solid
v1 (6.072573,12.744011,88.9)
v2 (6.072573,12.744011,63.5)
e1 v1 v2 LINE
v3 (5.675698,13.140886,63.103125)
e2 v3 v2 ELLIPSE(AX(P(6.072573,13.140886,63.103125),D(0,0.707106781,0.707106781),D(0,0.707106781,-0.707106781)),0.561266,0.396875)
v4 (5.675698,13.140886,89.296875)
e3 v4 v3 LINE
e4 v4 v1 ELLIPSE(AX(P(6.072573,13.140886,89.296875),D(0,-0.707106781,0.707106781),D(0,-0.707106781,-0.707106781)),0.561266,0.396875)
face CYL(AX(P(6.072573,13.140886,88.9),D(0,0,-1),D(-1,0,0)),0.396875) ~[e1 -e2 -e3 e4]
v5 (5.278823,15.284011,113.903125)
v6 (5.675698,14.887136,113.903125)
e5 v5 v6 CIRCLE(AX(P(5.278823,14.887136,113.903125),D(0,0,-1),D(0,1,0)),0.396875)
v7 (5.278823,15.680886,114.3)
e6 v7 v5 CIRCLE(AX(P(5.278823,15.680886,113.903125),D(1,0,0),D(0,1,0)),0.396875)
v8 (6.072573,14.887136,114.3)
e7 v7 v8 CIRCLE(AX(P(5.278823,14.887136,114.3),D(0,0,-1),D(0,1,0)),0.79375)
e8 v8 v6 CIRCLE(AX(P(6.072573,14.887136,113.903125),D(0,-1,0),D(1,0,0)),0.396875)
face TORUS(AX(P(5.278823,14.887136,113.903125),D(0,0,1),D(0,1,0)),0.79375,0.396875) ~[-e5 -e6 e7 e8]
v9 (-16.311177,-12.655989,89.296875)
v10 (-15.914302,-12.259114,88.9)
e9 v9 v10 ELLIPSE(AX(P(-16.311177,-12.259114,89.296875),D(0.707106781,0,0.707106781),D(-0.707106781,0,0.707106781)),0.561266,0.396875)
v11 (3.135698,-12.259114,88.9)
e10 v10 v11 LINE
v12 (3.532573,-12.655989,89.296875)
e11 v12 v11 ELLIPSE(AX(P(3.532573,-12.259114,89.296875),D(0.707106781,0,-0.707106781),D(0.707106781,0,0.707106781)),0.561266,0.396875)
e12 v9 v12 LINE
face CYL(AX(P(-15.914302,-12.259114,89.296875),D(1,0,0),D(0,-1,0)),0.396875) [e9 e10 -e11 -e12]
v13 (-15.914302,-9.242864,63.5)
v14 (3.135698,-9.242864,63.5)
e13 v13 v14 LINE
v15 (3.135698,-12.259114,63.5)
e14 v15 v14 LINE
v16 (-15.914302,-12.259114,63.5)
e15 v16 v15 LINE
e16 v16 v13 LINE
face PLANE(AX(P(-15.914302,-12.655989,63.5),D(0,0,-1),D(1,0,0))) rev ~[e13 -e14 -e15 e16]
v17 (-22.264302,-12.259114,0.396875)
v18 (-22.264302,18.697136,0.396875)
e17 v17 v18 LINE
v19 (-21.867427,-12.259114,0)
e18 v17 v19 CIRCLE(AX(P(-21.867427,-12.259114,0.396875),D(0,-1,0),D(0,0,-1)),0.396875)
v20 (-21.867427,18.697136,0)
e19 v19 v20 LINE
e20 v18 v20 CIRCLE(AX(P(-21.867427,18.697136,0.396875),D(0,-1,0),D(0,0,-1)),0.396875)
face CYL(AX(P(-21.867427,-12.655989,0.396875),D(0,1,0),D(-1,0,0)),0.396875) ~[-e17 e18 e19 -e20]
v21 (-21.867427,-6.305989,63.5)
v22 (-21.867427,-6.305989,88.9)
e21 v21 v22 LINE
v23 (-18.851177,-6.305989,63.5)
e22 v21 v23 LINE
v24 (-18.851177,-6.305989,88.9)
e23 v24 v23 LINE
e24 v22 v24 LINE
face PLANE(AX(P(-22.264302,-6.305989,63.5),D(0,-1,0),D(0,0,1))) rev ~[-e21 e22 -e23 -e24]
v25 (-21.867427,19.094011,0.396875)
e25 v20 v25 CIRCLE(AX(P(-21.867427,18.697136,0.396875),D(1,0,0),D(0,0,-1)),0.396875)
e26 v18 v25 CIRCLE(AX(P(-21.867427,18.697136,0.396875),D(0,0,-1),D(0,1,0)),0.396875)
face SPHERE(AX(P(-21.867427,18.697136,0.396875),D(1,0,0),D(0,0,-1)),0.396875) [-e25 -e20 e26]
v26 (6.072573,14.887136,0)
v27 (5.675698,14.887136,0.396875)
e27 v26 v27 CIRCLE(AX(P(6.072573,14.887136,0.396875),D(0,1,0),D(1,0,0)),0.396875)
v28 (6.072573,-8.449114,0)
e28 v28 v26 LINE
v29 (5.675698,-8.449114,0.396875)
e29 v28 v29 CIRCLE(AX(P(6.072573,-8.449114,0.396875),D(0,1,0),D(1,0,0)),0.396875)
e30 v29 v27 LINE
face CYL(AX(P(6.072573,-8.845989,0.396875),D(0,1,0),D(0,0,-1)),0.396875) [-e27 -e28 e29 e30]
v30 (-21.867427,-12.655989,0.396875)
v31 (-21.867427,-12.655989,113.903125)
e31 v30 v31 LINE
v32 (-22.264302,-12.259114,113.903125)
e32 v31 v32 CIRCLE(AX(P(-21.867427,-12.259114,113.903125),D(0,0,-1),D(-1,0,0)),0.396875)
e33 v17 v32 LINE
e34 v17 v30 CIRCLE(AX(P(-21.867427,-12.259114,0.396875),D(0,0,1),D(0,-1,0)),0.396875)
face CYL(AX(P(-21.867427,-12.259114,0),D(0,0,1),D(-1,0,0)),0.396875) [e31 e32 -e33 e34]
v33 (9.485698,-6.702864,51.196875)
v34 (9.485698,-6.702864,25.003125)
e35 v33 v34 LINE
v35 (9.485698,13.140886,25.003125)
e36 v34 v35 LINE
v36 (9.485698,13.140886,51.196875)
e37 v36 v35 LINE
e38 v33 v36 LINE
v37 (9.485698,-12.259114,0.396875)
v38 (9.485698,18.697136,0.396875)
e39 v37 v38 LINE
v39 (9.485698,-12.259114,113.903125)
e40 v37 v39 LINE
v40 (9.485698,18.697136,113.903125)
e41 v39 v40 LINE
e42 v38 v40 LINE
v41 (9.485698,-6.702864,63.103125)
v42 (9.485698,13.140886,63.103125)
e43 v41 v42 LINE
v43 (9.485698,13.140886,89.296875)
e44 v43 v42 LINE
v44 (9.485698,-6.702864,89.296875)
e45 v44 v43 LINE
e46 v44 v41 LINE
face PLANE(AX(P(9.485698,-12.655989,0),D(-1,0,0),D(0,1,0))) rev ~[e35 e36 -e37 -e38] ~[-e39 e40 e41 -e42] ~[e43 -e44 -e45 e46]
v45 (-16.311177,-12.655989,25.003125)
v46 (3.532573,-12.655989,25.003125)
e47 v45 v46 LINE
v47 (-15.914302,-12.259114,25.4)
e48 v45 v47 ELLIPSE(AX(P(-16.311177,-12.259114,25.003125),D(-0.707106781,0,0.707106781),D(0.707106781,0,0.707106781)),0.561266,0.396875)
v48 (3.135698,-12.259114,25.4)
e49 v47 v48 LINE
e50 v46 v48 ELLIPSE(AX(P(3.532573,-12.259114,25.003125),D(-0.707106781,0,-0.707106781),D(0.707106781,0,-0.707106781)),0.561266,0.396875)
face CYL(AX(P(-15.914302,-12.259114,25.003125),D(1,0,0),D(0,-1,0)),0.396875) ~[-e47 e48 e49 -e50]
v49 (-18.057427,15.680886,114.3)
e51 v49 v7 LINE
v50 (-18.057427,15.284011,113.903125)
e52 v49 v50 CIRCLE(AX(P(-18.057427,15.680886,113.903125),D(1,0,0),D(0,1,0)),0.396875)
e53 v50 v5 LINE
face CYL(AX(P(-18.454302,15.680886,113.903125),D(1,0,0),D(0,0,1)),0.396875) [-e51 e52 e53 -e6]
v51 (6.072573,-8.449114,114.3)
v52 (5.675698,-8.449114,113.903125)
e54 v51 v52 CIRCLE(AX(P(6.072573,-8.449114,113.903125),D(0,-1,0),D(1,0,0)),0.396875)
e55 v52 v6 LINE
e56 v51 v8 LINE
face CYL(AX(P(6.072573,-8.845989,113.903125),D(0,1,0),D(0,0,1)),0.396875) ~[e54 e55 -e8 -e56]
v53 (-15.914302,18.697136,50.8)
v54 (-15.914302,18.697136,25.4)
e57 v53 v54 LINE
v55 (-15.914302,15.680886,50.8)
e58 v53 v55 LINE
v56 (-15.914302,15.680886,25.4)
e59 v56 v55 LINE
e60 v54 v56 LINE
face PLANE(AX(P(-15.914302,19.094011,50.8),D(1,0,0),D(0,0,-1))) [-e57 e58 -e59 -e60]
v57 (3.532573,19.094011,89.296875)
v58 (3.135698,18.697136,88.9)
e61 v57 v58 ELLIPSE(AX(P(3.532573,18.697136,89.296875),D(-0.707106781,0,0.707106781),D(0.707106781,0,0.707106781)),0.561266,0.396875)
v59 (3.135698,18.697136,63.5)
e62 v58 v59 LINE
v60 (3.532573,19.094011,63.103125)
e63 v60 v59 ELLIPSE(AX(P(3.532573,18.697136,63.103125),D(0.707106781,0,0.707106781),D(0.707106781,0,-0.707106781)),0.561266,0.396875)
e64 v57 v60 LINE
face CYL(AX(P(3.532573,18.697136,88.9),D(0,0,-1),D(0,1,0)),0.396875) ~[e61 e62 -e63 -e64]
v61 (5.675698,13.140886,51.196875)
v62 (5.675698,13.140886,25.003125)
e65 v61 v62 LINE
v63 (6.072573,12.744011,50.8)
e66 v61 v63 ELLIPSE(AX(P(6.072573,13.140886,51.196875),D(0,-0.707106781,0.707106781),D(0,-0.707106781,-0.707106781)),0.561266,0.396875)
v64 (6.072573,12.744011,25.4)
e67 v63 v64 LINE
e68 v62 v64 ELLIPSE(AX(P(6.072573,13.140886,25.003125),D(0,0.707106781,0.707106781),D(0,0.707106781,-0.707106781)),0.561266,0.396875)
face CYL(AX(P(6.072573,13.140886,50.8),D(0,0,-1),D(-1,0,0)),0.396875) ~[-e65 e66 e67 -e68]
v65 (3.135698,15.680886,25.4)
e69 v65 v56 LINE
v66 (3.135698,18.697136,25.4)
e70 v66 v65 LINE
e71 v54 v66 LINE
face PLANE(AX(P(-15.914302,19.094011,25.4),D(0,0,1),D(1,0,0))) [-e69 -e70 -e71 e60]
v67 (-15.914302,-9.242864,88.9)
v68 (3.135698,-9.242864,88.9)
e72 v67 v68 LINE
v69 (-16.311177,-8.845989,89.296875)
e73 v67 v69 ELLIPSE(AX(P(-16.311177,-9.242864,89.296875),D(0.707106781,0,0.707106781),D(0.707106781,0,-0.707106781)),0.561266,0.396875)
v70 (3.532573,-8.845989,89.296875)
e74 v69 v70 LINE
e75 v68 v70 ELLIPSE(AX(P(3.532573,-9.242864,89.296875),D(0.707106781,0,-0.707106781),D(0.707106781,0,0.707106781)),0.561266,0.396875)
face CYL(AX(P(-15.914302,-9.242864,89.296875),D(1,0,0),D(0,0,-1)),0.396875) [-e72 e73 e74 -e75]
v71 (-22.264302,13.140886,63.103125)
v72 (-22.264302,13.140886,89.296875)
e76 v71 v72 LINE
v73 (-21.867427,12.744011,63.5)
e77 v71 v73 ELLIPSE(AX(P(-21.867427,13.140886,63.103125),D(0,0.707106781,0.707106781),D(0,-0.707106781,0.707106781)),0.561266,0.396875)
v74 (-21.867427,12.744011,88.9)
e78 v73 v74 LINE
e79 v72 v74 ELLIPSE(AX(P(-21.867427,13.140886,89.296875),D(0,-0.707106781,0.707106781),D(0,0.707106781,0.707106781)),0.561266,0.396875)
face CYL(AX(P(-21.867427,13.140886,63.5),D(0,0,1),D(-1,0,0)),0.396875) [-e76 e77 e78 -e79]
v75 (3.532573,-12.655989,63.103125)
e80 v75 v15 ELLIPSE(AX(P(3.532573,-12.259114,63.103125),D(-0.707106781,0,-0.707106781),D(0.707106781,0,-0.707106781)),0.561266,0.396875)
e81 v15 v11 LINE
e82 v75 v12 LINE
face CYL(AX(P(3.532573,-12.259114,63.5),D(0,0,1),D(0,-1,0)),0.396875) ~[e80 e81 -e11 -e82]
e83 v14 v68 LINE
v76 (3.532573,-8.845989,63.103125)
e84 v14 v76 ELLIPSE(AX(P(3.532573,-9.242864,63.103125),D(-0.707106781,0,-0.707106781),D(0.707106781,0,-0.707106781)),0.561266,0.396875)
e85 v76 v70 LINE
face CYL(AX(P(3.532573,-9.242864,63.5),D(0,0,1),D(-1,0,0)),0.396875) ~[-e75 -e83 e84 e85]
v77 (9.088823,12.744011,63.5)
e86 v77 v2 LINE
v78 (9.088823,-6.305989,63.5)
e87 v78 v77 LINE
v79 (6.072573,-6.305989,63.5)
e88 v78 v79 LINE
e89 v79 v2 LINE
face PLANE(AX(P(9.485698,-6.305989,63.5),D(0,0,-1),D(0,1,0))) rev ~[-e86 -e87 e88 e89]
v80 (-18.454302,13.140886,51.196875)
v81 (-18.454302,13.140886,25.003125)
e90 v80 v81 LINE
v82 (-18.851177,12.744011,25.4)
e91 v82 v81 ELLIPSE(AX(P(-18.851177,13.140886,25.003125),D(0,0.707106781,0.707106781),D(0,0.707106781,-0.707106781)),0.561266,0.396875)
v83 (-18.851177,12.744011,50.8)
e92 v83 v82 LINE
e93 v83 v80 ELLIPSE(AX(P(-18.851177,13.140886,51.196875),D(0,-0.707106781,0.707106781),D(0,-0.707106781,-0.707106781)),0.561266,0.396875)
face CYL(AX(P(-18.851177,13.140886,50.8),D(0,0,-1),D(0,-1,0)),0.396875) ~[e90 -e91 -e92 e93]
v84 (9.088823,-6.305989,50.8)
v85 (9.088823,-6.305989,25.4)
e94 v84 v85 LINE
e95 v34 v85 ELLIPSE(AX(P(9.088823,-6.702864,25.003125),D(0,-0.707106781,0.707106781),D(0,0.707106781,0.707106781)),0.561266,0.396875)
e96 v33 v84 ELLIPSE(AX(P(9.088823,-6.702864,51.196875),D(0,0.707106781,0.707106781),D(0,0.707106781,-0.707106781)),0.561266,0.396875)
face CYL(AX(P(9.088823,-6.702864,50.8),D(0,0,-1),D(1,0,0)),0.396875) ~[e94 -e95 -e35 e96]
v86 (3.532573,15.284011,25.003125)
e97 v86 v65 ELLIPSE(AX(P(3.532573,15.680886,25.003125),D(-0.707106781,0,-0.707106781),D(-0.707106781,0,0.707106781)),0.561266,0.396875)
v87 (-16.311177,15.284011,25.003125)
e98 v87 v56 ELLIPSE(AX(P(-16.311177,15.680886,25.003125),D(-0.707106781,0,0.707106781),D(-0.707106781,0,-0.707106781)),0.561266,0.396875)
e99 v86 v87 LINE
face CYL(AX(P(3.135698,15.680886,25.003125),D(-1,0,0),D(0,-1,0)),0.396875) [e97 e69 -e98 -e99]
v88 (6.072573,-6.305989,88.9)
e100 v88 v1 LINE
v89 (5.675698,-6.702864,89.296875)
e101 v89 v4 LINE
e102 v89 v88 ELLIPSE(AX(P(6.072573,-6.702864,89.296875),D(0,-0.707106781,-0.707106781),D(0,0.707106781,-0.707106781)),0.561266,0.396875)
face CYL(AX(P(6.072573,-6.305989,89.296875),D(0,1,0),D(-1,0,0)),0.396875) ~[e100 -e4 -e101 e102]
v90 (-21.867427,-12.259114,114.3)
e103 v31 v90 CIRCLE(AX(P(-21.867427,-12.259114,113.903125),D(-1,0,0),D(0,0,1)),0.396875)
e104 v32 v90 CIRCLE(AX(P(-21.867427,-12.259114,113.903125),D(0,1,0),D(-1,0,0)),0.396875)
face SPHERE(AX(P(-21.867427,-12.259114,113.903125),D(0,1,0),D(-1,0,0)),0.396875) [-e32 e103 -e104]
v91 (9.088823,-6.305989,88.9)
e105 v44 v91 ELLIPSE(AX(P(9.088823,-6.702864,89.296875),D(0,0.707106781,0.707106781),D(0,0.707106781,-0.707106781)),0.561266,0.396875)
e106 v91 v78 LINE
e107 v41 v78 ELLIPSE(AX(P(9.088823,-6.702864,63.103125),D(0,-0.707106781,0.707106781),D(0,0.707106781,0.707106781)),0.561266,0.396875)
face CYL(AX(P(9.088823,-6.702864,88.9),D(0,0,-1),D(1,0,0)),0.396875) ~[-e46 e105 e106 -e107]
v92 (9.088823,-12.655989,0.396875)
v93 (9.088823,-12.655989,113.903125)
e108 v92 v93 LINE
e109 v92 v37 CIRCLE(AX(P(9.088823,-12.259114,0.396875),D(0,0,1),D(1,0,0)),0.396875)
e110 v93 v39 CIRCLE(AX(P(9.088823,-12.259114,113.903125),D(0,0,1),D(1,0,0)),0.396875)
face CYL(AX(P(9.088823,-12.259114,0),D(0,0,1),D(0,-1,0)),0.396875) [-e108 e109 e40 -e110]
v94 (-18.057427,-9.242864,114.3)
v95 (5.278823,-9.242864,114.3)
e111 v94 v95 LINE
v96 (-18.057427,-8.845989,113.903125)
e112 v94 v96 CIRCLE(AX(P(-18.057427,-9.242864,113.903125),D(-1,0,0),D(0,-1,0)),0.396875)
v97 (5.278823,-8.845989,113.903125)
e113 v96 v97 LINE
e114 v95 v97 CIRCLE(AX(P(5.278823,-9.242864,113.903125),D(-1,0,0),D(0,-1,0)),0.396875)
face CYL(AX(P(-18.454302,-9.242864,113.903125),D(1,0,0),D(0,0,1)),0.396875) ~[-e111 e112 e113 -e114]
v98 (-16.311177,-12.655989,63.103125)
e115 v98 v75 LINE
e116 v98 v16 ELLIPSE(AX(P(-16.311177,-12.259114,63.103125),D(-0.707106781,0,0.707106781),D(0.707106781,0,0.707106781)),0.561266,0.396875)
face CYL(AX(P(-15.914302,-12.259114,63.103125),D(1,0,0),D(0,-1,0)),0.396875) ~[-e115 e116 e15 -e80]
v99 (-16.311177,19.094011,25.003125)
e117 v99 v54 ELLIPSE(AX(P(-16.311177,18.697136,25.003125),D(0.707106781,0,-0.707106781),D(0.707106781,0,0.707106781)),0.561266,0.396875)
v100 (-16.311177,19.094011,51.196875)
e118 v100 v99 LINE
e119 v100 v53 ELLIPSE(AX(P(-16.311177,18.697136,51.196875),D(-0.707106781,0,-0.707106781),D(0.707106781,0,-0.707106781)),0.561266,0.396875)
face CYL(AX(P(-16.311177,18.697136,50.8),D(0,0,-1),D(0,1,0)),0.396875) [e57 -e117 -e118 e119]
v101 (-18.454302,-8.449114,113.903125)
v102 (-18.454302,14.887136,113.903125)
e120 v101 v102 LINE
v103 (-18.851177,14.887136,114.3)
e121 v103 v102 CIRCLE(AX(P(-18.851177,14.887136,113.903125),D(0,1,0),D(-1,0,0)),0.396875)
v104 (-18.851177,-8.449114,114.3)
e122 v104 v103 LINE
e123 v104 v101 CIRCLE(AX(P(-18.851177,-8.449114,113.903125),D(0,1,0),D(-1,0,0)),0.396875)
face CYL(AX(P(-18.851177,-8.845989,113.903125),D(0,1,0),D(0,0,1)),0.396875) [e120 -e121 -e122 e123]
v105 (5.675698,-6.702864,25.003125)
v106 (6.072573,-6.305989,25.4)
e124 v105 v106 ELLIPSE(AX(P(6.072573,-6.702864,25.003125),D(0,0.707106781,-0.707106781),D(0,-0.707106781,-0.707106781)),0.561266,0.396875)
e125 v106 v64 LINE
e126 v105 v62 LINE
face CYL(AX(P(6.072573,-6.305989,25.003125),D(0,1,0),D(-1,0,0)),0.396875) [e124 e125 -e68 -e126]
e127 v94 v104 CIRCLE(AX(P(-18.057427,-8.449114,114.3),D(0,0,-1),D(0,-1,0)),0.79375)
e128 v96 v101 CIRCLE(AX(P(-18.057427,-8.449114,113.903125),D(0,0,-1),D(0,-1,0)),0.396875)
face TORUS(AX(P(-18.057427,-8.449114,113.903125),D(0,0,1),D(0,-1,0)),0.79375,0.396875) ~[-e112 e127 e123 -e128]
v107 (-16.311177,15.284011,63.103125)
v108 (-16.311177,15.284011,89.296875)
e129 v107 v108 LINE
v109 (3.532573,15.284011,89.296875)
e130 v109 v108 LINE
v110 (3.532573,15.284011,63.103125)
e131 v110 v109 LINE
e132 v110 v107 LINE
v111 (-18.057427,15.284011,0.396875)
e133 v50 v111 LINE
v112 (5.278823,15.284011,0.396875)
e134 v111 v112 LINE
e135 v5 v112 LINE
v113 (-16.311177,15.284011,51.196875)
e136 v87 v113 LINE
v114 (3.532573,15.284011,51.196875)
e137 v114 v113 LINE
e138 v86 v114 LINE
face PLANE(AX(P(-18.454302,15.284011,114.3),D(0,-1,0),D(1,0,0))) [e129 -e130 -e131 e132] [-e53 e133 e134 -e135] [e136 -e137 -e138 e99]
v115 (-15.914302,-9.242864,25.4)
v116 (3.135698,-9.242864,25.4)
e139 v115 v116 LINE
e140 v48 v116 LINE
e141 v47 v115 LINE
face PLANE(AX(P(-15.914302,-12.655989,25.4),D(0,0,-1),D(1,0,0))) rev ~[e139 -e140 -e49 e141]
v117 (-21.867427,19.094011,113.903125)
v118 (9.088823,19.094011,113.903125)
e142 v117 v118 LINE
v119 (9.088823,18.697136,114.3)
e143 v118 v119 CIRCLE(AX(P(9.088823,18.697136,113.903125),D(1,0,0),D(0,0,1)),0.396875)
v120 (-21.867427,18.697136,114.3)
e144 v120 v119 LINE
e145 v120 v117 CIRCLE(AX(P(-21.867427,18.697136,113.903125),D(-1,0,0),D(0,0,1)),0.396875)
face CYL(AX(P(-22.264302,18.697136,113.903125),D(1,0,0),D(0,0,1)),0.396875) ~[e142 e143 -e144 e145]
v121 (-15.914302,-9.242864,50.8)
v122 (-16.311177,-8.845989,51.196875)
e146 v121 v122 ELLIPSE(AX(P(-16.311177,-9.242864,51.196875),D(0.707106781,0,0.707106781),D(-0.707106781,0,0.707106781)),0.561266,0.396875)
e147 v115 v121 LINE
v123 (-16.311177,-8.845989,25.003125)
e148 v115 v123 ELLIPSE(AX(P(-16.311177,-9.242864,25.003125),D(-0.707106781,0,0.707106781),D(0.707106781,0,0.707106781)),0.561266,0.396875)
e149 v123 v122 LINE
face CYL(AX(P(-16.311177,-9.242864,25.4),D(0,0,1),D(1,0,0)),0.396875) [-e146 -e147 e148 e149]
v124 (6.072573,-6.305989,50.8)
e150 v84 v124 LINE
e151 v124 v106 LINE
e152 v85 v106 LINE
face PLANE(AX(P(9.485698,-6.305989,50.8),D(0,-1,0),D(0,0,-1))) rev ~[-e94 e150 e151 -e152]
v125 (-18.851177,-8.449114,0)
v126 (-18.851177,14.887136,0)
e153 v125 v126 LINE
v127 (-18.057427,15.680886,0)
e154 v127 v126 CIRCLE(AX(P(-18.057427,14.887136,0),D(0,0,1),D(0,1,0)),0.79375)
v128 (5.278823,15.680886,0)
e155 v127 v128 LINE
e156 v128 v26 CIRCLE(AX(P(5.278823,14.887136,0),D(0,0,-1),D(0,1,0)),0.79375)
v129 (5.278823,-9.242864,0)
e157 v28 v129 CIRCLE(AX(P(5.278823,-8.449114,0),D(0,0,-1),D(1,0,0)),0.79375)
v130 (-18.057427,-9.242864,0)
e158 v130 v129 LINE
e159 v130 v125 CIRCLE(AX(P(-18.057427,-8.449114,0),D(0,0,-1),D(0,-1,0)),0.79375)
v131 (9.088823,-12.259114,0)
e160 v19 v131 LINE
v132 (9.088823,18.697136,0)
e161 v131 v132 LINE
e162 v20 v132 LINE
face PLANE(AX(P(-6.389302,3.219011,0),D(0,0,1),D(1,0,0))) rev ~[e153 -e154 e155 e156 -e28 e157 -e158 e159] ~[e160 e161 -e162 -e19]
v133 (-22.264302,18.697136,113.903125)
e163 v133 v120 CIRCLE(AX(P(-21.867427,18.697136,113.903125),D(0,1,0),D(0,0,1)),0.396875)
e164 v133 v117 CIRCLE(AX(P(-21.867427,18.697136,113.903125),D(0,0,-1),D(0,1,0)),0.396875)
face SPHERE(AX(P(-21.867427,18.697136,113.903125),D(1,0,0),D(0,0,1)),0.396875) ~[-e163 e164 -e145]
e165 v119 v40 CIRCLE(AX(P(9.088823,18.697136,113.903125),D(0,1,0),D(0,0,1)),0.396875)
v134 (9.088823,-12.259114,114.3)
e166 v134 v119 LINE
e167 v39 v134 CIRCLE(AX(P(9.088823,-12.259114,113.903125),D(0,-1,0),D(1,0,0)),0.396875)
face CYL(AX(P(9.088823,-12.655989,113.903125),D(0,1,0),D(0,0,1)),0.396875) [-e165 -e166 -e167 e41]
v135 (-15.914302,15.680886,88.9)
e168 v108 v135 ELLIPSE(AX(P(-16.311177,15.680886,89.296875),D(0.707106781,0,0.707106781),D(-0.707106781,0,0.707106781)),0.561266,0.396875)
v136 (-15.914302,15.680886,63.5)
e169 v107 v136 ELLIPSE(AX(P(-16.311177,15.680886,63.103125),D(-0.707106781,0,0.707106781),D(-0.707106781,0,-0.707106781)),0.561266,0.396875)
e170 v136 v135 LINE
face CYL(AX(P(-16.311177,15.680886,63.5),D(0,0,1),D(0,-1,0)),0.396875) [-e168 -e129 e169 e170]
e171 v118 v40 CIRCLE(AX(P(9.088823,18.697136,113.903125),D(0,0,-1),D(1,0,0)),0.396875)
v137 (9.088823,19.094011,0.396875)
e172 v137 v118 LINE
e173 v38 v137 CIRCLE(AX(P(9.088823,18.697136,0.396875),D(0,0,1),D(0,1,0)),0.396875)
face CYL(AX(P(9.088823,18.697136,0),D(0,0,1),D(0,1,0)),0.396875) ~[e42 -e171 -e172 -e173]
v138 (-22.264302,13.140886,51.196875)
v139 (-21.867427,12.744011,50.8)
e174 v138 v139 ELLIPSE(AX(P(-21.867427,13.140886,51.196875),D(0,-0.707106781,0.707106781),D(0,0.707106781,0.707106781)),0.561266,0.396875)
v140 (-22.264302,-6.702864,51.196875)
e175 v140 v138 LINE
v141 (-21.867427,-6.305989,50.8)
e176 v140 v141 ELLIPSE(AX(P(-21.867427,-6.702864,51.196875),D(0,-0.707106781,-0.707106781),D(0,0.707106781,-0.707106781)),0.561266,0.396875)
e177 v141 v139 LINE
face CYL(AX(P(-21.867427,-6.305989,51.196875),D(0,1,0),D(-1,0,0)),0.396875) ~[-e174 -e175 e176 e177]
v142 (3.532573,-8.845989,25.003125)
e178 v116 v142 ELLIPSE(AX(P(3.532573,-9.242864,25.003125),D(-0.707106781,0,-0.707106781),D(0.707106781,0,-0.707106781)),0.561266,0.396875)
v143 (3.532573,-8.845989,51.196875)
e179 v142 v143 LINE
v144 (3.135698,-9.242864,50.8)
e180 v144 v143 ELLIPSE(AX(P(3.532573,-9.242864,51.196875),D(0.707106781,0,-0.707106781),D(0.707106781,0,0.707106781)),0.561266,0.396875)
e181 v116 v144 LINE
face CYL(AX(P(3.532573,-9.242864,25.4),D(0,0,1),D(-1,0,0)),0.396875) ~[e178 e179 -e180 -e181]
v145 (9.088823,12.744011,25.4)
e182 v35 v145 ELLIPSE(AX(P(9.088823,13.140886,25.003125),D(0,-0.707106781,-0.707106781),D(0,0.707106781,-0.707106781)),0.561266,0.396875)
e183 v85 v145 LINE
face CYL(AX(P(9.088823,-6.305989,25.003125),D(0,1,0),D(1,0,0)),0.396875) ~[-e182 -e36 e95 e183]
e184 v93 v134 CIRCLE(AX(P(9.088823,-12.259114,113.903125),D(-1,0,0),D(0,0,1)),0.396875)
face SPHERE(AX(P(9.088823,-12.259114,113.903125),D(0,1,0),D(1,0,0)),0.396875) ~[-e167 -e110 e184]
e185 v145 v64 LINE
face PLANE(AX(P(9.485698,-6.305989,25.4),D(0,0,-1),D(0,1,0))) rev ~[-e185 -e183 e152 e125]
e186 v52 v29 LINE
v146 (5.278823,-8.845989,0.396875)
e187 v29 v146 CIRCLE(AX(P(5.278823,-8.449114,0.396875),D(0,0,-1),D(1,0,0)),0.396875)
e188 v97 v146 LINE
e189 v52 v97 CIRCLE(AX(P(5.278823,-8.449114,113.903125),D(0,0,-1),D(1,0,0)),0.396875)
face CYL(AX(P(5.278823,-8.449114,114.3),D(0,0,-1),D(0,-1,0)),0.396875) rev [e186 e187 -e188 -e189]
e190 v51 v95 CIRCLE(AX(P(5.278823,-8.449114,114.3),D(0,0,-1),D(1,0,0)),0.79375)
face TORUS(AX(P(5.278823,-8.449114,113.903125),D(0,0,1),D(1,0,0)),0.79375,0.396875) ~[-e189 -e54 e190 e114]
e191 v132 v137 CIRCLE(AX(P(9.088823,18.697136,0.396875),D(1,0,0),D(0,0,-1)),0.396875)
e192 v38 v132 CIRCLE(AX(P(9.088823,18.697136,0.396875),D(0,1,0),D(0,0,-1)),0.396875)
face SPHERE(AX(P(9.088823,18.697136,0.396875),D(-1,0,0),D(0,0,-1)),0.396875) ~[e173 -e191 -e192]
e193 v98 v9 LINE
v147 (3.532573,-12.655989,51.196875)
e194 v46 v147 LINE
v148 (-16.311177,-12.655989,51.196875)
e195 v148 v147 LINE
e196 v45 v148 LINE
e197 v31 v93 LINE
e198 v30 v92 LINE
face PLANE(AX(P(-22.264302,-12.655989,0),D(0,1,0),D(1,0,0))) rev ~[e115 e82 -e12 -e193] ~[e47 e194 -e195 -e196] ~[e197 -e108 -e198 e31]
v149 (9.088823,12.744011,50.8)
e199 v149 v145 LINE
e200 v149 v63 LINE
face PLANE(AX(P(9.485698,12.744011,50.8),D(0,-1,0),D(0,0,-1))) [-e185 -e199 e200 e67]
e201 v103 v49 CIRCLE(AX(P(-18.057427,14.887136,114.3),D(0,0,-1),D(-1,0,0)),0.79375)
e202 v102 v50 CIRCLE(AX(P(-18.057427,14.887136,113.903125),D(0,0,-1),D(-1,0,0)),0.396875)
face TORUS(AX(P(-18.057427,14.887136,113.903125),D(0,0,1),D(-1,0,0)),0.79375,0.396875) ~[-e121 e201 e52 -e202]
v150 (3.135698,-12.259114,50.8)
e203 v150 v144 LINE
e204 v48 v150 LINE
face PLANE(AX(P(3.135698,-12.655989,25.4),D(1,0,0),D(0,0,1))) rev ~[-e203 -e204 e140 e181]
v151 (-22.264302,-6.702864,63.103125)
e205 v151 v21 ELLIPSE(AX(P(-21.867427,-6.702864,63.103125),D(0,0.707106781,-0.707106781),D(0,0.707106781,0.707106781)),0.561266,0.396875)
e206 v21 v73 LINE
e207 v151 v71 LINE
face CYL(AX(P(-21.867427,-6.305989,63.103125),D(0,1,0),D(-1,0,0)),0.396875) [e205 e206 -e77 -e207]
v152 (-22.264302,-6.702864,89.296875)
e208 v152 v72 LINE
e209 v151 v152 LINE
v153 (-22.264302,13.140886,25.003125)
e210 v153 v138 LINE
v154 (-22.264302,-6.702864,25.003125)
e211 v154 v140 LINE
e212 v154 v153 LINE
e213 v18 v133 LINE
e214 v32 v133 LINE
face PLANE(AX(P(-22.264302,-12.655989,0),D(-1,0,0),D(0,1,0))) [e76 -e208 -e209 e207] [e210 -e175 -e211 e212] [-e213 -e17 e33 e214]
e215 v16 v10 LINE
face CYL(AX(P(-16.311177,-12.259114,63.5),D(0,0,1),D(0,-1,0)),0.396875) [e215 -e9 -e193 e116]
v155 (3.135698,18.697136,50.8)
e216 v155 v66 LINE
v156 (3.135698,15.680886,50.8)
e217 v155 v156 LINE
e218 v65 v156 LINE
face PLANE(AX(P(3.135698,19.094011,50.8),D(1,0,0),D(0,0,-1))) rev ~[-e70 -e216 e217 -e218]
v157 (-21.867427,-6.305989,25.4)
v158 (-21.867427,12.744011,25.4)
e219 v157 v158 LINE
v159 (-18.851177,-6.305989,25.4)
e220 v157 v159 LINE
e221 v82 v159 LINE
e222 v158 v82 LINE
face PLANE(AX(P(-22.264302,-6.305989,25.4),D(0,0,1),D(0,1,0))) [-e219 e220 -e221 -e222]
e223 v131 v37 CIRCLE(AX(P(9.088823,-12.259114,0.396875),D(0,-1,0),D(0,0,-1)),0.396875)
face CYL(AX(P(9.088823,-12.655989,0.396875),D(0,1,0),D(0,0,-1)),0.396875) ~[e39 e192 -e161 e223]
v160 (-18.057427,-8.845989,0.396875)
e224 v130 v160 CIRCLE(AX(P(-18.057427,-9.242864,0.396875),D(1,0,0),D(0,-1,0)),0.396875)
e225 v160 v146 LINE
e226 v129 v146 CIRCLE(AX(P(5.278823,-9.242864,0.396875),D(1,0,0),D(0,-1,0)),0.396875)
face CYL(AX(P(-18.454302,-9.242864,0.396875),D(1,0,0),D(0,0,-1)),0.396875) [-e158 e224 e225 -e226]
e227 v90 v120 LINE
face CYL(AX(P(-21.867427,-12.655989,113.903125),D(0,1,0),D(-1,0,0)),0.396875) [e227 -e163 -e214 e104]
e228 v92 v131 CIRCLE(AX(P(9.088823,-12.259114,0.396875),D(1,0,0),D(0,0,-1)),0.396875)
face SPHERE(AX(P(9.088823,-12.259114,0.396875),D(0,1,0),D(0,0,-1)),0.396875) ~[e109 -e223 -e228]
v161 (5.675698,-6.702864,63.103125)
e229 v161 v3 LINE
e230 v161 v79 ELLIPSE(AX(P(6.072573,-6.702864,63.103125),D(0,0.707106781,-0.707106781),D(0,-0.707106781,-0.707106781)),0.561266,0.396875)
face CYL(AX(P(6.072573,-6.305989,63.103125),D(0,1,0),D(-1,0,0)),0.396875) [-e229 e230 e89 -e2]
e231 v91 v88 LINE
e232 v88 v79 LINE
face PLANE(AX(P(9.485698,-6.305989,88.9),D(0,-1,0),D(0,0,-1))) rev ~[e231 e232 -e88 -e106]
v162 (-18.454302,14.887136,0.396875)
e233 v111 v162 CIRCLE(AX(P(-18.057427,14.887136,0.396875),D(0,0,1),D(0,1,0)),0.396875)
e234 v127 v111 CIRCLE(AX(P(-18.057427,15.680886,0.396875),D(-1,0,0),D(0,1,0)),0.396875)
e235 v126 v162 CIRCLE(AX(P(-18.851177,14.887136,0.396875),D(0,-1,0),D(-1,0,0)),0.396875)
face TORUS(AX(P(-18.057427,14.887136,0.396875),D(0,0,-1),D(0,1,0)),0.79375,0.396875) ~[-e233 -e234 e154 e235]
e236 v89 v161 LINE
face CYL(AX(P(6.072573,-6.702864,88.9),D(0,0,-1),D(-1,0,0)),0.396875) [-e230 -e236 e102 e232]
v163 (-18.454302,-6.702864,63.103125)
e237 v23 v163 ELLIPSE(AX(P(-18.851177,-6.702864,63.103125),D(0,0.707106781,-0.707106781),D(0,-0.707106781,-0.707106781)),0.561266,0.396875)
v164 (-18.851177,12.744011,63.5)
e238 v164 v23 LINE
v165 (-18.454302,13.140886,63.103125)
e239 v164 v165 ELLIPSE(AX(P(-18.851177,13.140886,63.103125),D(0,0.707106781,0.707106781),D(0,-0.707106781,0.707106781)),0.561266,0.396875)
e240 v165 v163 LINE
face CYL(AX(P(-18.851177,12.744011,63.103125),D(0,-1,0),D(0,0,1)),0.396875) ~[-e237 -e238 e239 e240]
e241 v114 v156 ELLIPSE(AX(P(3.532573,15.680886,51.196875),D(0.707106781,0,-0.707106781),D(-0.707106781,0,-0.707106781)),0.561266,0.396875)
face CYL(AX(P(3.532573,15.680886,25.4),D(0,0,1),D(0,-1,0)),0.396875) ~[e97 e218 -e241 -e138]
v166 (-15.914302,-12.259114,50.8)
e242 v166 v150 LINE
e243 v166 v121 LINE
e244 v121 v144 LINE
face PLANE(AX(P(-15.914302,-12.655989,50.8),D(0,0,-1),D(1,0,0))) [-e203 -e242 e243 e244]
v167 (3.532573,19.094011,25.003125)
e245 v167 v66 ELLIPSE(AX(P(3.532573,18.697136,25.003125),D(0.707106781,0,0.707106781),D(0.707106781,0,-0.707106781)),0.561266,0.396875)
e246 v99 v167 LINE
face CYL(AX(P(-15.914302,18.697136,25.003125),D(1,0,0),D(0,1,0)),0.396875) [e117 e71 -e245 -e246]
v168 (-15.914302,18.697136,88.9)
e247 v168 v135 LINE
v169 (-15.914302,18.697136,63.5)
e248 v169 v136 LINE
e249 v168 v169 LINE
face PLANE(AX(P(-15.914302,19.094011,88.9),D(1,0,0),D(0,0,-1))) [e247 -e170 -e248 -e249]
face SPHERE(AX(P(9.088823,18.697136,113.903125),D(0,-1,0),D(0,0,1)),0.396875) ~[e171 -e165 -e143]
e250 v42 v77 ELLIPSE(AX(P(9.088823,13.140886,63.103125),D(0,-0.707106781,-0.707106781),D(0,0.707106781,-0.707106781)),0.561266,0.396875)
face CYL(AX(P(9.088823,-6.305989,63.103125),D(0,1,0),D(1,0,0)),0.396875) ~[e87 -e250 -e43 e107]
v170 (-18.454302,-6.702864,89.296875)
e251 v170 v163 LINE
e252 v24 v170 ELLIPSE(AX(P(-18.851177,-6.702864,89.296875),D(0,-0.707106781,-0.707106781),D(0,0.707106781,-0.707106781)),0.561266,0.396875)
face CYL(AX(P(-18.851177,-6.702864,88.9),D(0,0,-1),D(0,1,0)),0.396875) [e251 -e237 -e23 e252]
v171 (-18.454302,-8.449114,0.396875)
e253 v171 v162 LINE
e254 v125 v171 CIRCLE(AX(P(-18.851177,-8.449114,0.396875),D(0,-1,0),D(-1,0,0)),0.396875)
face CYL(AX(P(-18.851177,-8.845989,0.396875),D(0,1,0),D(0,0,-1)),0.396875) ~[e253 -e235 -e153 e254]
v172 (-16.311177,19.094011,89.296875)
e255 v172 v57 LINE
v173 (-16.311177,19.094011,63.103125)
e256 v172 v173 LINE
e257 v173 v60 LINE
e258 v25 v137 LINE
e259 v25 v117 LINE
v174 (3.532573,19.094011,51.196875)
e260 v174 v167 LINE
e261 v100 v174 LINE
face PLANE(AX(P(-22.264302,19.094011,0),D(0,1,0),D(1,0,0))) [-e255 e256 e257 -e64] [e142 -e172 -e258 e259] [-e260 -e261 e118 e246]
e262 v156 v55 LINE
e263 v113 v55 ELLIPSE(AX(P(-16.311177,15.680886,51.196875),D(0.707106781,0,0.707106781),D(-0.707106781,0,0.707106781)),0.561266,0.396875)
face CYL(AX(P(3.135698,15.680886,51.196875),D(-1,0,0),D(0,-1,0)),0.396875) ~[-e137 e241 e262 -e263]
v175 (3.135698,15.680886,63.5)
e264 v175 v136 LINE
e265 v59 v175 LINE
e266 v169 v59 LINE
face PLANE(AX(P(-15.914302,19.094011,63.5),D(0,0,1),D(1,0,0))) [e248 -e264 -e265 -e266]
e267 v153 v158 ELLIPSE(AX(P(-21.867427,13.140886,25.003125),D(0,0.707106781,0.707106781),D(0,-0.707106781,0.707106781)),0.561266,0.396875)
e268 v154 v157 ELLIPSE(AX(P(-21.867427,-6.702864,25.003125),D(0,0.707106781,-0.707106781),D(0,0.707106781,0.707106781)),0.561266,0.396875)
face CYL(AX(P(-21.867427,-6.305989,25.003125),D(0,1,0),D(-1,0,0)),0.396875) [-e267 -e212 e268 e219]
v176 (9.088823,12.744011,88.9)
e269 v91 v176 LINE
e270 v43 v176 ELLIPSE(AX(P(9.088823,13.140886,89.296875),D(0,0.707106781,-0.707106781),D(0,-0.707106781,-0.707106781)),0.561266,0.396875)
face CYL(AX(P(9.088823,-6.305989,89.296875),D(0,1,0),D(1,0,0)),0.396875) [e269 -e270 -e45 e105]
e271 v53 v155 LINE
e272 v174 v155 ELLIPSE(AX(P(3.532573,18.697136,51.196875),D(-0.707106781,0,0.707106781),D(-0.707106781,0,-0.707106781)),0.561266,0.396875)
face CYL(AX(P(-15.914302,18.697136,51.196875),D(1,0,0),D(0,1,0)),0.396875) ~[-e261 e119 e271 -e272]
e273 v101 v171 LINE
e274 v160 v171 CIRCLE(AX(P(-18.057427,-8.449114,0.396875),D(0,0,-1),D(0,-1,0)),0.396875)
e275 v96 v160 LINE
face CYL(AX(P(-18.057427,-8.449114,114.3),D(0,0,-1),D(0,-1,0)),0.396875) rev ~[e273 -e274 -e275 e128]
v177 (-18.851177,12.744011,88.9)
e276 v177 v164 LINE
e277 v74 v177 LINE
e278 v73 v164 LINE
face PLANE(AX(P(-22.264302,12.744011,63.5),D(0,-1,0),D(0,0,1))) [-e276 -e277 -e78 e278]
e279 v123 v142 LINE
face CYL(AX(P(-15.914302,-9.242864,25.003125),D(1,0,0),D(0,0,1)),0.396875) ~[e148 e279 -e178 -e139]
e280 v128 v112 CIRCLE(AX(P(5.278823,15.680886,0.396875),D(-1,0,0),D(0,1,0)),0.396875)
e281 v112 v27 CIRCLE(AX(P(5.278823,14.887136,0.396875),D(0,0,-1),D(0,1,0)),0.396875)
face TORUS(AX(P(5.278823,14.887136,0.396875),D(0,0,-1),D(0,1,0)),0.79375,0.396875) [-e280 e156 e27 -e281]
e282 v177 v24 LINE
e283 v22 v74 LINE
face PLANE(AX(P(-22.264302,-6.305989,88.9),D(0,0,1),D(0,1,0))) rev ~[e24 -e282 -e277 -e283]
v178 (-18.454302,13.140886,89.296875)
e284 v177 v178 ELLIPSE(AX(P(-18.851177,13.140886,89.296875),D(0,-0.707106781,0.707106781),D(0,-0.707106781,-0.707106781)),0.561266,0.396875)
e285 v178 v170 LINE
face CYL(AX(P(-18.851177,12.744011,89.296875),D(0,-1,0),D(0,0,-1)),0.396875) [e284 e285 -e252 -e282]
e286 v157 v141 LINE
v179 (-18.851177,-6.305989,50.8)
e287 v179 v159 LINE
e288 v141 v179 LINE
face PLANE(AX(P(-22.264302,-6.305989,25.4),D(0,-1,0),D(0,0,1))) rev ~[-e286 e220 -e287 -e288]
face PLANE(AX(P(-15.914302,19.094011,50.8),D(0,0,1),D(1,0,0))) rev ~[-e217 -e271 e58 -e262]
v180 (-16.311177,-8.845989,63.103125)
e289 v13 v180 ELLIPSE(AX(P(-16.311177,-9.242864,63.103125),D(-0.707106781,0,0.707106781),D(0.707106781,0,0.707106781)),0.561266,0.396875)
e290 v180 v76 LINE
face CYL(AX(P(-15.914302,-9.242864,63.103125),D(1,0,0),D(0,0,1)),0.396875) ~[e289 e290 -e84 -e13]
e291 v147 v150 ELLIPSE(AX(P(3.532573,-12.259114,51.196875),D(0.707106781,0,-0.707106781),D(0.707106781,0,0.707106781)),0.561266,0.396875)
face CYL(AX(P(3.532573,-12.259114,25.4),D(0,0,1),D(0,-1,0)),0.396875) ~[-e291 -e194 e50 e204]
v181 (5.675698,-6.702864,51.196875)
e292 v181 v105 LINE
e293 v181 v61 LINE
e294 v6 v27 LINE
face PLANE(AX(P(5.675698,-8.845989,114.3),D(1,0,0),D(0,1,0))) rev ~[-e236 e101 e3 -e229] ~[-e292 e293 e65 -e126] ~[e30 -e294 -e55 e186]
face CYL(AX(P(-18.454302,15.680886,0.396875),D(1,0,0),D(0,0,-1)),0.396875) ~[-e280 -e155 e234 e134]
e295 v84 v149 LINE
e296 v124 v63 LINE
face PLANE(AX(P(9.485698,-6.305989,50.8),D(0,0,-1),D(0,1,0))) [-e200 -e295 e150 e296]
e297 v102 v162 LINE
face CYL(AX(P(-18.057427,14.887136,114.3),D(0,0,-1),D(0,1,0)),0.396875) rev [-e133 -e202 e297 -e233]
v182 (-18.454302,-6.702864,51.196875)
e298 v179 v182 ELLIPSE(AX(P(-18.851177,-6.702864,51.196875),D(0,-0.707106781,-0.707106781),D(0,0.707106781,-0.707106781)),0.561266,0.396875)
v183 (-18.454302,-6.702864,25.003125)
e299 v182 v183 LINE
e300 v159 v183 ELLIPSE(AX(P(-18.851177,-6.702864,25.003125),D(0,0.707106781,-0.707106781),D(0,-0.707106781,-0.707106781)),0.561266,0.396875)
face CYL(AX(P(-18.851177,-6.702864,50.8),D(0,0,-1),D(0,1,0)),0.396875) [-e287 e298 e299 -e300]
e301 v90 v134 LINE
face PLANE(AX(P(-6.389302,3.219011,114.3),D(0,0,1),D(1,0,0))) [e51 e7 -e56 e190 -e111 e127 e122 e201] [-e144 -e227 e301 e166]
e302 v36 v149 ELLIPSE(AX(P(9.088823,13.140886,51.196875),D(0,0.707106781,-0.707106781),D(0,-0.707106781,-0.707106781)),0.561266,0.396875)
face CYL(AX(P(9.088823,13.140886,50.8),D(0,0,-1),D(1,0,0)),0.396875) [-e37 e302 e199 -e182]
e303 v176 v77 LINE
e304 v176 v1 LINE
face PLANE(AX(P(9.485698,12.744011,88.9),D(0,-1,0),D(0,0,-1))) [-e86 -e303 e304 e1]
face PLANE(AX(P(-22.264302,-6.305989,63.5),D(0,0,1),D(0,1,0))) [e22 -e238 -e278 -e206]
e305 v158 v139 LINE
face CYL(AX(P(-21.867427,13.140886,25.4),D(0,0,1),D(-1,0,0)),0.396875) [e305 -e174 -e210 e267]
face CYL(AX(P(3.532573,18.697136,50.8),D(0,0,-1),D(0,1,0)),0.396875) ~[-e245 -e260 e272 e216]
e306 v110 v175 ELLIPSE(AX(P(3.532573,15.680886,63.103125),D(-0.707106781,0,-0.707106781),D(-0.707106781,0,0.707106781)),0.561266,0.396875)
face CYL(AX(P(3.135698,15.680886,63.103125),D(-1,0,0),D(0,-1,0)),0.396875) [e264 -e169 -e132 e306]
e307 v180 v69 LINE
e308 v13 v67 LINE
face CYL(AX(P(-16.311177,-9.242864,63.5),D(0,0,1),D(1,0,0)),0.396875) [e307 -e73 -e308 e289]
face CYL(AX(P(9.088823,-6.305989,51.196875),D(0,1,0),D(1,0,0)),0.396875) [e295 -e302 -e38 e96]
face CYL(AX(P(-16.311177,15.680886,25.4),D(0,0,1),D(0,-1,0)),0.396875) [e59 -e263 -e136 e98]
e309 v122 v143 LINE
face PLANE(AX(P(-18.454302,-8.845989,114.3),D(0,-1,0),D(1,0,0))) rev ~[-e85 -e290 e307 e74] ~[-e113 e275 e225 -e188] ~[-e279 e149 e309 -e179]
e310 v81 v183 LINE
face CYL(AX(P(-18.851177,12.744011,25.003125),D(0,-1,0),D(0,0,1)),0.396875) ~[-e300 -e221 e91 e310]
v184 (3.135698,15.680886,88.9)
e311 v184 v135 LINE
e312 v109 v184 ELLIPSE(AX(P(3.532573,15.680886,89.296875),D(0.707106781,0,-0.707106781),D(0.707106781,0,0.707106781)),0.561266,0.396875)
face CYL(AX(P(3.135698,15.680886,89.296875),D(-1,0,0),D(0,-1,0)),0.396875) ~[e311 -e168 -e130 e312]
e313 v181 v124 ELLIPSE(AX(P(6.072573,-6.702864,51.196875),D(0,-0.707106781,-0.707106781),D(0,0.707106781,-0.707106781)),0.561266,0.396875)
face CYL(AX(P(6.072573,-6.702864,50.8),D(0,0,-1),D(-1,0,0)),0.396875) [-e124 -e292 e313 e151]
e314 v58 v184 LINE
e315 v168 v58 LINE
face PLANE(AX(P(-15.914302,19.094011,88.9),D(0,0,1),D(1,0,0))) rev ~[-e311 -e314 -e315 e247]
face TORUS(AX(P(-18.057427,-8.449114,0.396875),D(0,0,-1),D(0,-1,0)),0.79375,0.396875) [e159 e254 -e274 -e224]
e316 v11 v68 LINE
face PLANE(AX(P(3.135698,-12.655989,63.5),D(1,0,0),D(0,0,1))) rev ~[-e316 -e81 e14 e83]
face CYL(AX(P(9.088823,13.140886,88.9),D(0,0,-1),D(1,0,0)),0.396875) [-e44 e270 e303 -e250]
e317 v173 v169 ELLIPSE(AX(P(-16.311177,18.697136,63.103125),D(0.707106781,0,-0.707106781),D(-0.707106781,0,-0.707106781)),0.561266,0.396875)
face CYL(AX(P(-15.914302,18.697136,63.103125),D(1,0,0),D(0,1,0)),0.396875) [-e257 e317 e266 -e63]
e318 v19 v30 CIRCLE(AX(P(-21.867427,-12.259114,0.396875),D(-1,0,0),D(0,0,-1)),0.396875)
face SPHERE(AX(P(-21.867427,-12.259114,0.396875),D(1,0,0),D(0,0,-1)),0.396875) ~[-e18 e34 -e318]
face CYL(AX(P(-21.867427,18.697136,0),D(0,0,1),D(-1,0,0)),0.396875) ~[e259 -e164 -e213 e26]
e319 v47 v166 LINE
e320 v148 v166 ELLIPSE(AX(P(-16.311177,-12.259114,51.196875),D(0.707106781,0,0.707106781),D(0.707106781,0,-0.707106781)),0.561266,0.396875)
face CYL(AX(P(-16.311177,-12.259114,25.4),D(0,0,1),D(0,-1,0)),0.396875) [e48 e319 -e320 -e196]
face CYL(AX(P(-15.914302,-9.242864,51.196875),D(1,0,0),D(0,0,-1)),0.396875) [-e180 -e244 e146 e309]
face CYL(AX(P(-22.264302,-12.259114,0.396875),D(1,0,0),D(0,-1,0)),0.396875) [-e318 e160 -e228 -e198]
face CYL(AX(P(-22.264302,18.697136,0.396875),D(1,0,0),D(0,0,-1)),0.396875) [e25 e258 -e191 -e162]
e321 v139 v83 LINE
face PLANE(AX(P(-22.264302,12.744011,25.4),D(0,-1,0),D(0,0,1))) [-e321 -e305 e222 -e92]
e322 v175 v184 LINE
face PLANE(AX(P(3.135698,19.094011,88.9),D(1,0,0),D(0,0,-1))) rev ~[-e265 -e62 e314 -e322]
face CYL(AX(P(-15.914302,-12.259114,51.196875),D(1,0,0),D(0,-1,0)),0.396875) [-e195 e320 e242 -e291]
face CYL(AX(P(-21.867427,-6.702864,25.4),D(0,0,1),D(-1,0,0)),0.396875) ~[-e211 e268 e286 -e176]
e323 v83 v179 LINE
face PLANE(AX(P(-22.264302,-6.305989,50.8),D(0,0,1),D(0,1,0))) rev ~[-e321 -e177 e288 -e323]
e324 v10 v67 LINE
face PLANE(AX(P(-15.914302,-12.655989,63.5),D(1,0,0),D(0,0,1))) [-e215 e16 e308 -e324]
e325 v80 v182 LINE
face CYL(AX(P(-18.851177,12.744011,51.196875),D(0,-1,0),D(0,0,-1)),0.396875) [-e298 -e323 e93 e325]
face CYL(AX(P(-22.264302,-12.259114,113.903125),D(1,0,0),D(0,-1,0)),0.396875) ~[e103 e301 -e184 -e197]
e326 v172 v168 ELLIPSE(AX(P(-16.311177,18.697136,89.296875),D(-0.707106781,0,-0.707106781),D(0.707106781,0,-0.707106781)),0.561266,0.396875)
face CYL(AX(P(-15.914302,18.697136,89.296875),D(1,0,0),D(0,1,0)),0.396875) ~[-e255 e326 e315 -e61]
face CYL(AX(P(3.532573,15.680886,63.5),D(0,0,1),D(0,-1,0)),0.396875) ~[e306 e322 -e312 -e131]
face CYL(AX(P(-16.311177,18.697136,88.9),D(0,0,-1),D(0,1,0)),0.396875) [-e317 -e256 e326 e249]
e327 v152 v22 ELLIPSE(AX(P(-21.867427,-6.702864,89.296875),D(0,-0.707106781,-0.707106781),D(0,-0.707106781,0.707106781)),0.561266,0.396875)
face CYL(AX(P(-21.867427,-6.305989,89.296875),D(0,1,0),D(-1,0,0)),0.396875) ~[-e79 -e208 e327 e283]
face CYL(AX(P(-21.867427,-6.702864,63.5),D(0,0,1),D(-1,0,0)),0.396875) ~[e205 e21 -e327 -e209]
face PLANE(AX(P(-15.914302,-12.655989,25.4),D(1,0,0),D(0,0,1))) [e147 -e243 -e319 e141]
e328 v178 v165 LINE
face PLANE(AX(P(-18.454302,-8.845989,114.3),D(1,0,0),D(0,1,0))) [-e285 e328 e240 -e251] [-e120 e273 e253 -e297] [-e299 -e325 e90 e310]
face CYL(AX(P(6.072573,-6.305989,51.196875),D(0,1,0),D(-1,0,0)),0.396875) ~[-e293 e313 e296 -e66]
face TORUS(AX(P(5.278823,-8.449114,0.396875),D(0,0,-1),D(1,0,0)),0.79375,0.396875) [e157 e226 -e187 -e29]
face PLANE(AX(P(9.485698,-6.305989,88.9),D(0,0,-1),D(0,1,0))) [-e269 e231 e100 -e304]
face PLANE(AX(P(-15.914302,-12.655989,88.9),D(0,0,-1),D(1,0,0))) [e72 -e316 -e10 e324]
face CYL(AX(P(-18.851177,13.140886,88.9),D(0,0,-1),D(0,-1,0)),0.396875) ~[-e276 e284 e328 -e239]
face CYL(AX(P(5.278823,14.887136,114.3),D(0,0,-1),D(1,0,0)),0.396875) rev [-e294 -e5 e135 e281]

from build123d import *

# Parameters (mm, degrees)
SKETCH1_W           = 31.75
SKETCH1_H           = 31.75
BOSS_EXTRUDE1_DEPTH = 114.3
SKETCH3_W           = 24.13
SKETCH3_H           = 24.13
CUT_EXTRUDE1_DEPTH  = 114.3
SKETCH4_W           = 19.05
SKETCH4_H           = 25.4
CUT_EXTRUDE4_DEPTH  = 6.35
SKETCH10_W          = 25.4
SKETCH10_H          = 19.05
CUT_EXTRUDE5_DEPTH  = 6.35
SKETCH13_W          = 19.05
SKETCH13_H          = 25.4
CUT_EXTRUDE6_DEPTH  = 6.35
SKETCH14_W          = 25.4
SKETCH14_H          = 19.05
CUT_EXTRUDE7_DEPTH  = 6.35
FILLET1_64_R        = 0.396875


with BuildPart() as part:
    # Sketch1 → Boss-Extrude1 (new body)
    with BuildSketch(Plane.XY):
        with Locations((-6.389302447, 3.219010904)):
            Rectangle(SKETCH1_W, SKETCH1_H)
    extrude(amount=BOSS_EXTRUDE1_DEPTH)

    # Sketch3 → Cut-Extrude1 (cut)
    with BuildSketch(Plane.XY.offset(114.3)):
        with Locations((-6.389302447, 3.219010904)):
            Rectangle(SKETCH3_W, SKETCH3_H)
    extrude(amount=-CUT_EXTRUDE1_DEPTH, mode=Mode.SUBTRACT)

    # Sketch4 → Cut-Extrude4 (cut)
    with BuildSketch(Plane(origin=(0, 19.094010904, 0), x_dir=(1, 0, 0), z_dir=(0, 1, 0))):
        with Locations((-6.389302447, -76.2)):
            Rectangle(SKETCH4_W, SKETCH4_H)
        with Locations((-6.389302447, -38.1)):
            Rectangle(SKETCH4_W, SKETCH4_H)
    extrude(amount=-CUT_EXTRUDE4_DEPTH, mode=Mode.SUBTRACT)

    # Sketch10 → Cut-Extrude5 (cut)
    with BuildSketch(Plane(origin=(9.485697553, 0, 0), x_dir=(0, 0, -1), z_dir=(1, 0, 0))):
        with Locations((-76.2, 3.219010904)):
            Rectangle(SKETCH10_W, SKETCH10_H)
        with Locations((-38.1, 3.219010904)):
            Rectangle(SKETCH10_W, SKETCH10_H)
    extrude(amount=-CUT_EXTRUDE5_DEPTH, mode=Mode.SUBTRACT)

    # Sketch13 → Cut-Extrude6 (cut)
    with BuildSketch(Plane.XZ.offset(12.655989096)):
        with Locations((-6.389302447, 76.2)):
            Rectangle(SKETCH13_W, SKETCH13_H)
        with Locations((-6.389302447, 38.1)):
            Rectangle(SKETCH13_W, SKETCH13_H)
    extrude(amount=-CUT_EXTRUDE6_DEPTH, mode=Mode.SUBTRACT)

    # Sketch14 → Cut-Extrude7 (cut)
    with BuildSketch(Plane.ZY.offset(22.264302447)):
        with Locations((76.2, 3.219010904)):
            Rectangle(SKETCH14_W, SKETCH14_H)
        with Locations((38.1, 3.219010904)):
            Rectangle(SKETCH14_W, SKETCH14_H)
    extrude(amount=-CUT_EXTRUDE7_DEPTH, mode=Mode.SUBTRACT)

    # Fillet1/64
    fillet1_64_edges = [part.edges().sort_by_distance(p)[0] for p in [
        (-15.914302447, -8.845989096, 38.1),
        (-6.389302447, -8.845989096, 25.4),
        (3.135697553, -8.845989096, 38.1),
        (-6.389302447, -8.845989096, 50.8),
        (-6.389302447, -8.845989096, 63.5),
        (3.135697553, -8.845989096, 76.2),
        (-6.389302447, -8.845989096, 88.9),
        (-15.914302447, -8.845989096, 76.2),
        (-15.914302447, -12.655989096, 76.2),
        (-6.389302447, -12.655989096, 63.5),
        (3.135697553, -12.655989096, 76.2),
        (-6.389302447, -12.655989096, 88.9),
        (9.485697553, 3.219010904, 114.3),
        (-6.389302447, -12.655989096, 50.8),
        (-15.914302447, -12.655989096, 38.1),
        (-6.389302447, -12.655989096, 25.4),
        (3.135697553, -12.655989096, 38.1),
        (-18.454302447, 12.744010904, 38.1),
        (-18.454302447, 3.219010904, 25.4),
        (-18.454302447, -6.305989096, 38.1),
        (-18.454302447, 3.219010904, 50.8),
        (-18.454302447, 3.219010904, 63.5),
        (-18.454302447, -6.305989096, 76.2),
        (-18.454302447, 3.219010904, 88.9),
        (-18.454302447, 12.744010904, 76.2),
        (-22.264302447, 12.744010904, 76.2),
        (-22.264302447, 3.219010904, 63.5),
        (-22.264302447, -6.305989096, 76.2),
        (-22.264302447, 3.219010904, 88.9),
        (-6.389302447, 19.094010904, 114.3),
        (-22.264302447, 3.219010904, 50.8),
        (-22.264302447, 12.744010904, 38.1),
        (-22.264302447, 3.219010904, 25.4),
        (-22.264302447, -6.305989096, 38.1),
        (-6.389302447, -8.845989096, 0),
        (5.675697553, -8.845989096, 57.15),
        (-18.454302447, 3.219010904, 0),
        (-18.454302447, -8.845989096, 57.15),
        (-6.389302447, 15.284010904, 114.3),
        (-18.454302447, 15.284010904, 57.15),
        (5.675697553, 3.219010904, 114.3),
        (5.675697553, 15.284010904, 57.15),
        (-6.389302447, 15.284010904, 0),
        (5.675697553, 3.219010904, 0),
        (-6.389302447, -8.845989096, 114.3),
        (-18.454302447, 3.219010904, 114.3),
        (-6.389302447, 15.284010904, 50.8),
        (3.135697553, 15.284010904, 38.1),
        (-6.389302447, 15.284010904, 25.4),
        (-15.914302447, 15.284010904, 38.1),
        (3.135697553, 15.284010904, 76.2),
        (-6.389302447, 15.284010904, 63.5),
        (-15.914302447, 15.284010904, 76.2),
        (-6.389302447, 15.284010904, 88.9),
        (-15.914302447, 19.094010904, 76.2),
        (-6.389302447, 19.094010904, 63.5),
        (-6.389302447, 19.094010904, 88.9),
        (3.135697553, 19.094010904, 76.2),
        (-6.389302447, 19.094010904, 25.4),
        (3.135697553, 19.094010904, 38.1),
        (-15.914302447, 19.094010904, 38.1),
        (-6.389302447, 19.094010904, 50.8),
        (-22.264302447, 3.219010904, 114.3),
        (-6.389302447, 19.094010904, 0),
        (9.485697553, 3.219010904, 0),
        (-6.389302447, -12.655989096, 0),
        (-22.264302447, 3.219010904, 0),
        (5.675697553, 12.744010904, 38.1),
        (5.675697553, 3.219010904, 50.8),
        (5.675697553, -6.305989096, 38.1),
        (5.675697553, 3.219010904, 25.4),
        (5.675697553, -6.305989096, 76.2),
        (5.675697553, 3.219010904, 63.5),
        (5.675697553, 12.744010904, 76.2),
        (5.675697553, 3.219010904, 88.9),
        (-22.264302447, 19.094010904, 57.15),
        (9.485697553, 12.744010904, 76.2),
        (9.485697553, 19.094010904, 57.15),
        (9.485697553, 3.219010904, 63.5),
        (9.485697553, -12.655989096, 57.15),
        (9.485697553, 3.219010904, 88.9),
        (9.485697553, -6.305989096, 76.2),
        (-22.264302447, -12.655989096, 57.15),
        (9.485697553, 3.219010904, 25.4),
        (9.485697553, -6.305989096, 38.1),
        (-6.389302447, -12.655989096, 114.3),
        (9.485697553, 12.744010904, 38.1),
        (9.485697553, 3.219010904, 50.8),
    ]]
    fillet(fillet1_64_edges, radius=FILLET1_64_R)


solid = part.part
